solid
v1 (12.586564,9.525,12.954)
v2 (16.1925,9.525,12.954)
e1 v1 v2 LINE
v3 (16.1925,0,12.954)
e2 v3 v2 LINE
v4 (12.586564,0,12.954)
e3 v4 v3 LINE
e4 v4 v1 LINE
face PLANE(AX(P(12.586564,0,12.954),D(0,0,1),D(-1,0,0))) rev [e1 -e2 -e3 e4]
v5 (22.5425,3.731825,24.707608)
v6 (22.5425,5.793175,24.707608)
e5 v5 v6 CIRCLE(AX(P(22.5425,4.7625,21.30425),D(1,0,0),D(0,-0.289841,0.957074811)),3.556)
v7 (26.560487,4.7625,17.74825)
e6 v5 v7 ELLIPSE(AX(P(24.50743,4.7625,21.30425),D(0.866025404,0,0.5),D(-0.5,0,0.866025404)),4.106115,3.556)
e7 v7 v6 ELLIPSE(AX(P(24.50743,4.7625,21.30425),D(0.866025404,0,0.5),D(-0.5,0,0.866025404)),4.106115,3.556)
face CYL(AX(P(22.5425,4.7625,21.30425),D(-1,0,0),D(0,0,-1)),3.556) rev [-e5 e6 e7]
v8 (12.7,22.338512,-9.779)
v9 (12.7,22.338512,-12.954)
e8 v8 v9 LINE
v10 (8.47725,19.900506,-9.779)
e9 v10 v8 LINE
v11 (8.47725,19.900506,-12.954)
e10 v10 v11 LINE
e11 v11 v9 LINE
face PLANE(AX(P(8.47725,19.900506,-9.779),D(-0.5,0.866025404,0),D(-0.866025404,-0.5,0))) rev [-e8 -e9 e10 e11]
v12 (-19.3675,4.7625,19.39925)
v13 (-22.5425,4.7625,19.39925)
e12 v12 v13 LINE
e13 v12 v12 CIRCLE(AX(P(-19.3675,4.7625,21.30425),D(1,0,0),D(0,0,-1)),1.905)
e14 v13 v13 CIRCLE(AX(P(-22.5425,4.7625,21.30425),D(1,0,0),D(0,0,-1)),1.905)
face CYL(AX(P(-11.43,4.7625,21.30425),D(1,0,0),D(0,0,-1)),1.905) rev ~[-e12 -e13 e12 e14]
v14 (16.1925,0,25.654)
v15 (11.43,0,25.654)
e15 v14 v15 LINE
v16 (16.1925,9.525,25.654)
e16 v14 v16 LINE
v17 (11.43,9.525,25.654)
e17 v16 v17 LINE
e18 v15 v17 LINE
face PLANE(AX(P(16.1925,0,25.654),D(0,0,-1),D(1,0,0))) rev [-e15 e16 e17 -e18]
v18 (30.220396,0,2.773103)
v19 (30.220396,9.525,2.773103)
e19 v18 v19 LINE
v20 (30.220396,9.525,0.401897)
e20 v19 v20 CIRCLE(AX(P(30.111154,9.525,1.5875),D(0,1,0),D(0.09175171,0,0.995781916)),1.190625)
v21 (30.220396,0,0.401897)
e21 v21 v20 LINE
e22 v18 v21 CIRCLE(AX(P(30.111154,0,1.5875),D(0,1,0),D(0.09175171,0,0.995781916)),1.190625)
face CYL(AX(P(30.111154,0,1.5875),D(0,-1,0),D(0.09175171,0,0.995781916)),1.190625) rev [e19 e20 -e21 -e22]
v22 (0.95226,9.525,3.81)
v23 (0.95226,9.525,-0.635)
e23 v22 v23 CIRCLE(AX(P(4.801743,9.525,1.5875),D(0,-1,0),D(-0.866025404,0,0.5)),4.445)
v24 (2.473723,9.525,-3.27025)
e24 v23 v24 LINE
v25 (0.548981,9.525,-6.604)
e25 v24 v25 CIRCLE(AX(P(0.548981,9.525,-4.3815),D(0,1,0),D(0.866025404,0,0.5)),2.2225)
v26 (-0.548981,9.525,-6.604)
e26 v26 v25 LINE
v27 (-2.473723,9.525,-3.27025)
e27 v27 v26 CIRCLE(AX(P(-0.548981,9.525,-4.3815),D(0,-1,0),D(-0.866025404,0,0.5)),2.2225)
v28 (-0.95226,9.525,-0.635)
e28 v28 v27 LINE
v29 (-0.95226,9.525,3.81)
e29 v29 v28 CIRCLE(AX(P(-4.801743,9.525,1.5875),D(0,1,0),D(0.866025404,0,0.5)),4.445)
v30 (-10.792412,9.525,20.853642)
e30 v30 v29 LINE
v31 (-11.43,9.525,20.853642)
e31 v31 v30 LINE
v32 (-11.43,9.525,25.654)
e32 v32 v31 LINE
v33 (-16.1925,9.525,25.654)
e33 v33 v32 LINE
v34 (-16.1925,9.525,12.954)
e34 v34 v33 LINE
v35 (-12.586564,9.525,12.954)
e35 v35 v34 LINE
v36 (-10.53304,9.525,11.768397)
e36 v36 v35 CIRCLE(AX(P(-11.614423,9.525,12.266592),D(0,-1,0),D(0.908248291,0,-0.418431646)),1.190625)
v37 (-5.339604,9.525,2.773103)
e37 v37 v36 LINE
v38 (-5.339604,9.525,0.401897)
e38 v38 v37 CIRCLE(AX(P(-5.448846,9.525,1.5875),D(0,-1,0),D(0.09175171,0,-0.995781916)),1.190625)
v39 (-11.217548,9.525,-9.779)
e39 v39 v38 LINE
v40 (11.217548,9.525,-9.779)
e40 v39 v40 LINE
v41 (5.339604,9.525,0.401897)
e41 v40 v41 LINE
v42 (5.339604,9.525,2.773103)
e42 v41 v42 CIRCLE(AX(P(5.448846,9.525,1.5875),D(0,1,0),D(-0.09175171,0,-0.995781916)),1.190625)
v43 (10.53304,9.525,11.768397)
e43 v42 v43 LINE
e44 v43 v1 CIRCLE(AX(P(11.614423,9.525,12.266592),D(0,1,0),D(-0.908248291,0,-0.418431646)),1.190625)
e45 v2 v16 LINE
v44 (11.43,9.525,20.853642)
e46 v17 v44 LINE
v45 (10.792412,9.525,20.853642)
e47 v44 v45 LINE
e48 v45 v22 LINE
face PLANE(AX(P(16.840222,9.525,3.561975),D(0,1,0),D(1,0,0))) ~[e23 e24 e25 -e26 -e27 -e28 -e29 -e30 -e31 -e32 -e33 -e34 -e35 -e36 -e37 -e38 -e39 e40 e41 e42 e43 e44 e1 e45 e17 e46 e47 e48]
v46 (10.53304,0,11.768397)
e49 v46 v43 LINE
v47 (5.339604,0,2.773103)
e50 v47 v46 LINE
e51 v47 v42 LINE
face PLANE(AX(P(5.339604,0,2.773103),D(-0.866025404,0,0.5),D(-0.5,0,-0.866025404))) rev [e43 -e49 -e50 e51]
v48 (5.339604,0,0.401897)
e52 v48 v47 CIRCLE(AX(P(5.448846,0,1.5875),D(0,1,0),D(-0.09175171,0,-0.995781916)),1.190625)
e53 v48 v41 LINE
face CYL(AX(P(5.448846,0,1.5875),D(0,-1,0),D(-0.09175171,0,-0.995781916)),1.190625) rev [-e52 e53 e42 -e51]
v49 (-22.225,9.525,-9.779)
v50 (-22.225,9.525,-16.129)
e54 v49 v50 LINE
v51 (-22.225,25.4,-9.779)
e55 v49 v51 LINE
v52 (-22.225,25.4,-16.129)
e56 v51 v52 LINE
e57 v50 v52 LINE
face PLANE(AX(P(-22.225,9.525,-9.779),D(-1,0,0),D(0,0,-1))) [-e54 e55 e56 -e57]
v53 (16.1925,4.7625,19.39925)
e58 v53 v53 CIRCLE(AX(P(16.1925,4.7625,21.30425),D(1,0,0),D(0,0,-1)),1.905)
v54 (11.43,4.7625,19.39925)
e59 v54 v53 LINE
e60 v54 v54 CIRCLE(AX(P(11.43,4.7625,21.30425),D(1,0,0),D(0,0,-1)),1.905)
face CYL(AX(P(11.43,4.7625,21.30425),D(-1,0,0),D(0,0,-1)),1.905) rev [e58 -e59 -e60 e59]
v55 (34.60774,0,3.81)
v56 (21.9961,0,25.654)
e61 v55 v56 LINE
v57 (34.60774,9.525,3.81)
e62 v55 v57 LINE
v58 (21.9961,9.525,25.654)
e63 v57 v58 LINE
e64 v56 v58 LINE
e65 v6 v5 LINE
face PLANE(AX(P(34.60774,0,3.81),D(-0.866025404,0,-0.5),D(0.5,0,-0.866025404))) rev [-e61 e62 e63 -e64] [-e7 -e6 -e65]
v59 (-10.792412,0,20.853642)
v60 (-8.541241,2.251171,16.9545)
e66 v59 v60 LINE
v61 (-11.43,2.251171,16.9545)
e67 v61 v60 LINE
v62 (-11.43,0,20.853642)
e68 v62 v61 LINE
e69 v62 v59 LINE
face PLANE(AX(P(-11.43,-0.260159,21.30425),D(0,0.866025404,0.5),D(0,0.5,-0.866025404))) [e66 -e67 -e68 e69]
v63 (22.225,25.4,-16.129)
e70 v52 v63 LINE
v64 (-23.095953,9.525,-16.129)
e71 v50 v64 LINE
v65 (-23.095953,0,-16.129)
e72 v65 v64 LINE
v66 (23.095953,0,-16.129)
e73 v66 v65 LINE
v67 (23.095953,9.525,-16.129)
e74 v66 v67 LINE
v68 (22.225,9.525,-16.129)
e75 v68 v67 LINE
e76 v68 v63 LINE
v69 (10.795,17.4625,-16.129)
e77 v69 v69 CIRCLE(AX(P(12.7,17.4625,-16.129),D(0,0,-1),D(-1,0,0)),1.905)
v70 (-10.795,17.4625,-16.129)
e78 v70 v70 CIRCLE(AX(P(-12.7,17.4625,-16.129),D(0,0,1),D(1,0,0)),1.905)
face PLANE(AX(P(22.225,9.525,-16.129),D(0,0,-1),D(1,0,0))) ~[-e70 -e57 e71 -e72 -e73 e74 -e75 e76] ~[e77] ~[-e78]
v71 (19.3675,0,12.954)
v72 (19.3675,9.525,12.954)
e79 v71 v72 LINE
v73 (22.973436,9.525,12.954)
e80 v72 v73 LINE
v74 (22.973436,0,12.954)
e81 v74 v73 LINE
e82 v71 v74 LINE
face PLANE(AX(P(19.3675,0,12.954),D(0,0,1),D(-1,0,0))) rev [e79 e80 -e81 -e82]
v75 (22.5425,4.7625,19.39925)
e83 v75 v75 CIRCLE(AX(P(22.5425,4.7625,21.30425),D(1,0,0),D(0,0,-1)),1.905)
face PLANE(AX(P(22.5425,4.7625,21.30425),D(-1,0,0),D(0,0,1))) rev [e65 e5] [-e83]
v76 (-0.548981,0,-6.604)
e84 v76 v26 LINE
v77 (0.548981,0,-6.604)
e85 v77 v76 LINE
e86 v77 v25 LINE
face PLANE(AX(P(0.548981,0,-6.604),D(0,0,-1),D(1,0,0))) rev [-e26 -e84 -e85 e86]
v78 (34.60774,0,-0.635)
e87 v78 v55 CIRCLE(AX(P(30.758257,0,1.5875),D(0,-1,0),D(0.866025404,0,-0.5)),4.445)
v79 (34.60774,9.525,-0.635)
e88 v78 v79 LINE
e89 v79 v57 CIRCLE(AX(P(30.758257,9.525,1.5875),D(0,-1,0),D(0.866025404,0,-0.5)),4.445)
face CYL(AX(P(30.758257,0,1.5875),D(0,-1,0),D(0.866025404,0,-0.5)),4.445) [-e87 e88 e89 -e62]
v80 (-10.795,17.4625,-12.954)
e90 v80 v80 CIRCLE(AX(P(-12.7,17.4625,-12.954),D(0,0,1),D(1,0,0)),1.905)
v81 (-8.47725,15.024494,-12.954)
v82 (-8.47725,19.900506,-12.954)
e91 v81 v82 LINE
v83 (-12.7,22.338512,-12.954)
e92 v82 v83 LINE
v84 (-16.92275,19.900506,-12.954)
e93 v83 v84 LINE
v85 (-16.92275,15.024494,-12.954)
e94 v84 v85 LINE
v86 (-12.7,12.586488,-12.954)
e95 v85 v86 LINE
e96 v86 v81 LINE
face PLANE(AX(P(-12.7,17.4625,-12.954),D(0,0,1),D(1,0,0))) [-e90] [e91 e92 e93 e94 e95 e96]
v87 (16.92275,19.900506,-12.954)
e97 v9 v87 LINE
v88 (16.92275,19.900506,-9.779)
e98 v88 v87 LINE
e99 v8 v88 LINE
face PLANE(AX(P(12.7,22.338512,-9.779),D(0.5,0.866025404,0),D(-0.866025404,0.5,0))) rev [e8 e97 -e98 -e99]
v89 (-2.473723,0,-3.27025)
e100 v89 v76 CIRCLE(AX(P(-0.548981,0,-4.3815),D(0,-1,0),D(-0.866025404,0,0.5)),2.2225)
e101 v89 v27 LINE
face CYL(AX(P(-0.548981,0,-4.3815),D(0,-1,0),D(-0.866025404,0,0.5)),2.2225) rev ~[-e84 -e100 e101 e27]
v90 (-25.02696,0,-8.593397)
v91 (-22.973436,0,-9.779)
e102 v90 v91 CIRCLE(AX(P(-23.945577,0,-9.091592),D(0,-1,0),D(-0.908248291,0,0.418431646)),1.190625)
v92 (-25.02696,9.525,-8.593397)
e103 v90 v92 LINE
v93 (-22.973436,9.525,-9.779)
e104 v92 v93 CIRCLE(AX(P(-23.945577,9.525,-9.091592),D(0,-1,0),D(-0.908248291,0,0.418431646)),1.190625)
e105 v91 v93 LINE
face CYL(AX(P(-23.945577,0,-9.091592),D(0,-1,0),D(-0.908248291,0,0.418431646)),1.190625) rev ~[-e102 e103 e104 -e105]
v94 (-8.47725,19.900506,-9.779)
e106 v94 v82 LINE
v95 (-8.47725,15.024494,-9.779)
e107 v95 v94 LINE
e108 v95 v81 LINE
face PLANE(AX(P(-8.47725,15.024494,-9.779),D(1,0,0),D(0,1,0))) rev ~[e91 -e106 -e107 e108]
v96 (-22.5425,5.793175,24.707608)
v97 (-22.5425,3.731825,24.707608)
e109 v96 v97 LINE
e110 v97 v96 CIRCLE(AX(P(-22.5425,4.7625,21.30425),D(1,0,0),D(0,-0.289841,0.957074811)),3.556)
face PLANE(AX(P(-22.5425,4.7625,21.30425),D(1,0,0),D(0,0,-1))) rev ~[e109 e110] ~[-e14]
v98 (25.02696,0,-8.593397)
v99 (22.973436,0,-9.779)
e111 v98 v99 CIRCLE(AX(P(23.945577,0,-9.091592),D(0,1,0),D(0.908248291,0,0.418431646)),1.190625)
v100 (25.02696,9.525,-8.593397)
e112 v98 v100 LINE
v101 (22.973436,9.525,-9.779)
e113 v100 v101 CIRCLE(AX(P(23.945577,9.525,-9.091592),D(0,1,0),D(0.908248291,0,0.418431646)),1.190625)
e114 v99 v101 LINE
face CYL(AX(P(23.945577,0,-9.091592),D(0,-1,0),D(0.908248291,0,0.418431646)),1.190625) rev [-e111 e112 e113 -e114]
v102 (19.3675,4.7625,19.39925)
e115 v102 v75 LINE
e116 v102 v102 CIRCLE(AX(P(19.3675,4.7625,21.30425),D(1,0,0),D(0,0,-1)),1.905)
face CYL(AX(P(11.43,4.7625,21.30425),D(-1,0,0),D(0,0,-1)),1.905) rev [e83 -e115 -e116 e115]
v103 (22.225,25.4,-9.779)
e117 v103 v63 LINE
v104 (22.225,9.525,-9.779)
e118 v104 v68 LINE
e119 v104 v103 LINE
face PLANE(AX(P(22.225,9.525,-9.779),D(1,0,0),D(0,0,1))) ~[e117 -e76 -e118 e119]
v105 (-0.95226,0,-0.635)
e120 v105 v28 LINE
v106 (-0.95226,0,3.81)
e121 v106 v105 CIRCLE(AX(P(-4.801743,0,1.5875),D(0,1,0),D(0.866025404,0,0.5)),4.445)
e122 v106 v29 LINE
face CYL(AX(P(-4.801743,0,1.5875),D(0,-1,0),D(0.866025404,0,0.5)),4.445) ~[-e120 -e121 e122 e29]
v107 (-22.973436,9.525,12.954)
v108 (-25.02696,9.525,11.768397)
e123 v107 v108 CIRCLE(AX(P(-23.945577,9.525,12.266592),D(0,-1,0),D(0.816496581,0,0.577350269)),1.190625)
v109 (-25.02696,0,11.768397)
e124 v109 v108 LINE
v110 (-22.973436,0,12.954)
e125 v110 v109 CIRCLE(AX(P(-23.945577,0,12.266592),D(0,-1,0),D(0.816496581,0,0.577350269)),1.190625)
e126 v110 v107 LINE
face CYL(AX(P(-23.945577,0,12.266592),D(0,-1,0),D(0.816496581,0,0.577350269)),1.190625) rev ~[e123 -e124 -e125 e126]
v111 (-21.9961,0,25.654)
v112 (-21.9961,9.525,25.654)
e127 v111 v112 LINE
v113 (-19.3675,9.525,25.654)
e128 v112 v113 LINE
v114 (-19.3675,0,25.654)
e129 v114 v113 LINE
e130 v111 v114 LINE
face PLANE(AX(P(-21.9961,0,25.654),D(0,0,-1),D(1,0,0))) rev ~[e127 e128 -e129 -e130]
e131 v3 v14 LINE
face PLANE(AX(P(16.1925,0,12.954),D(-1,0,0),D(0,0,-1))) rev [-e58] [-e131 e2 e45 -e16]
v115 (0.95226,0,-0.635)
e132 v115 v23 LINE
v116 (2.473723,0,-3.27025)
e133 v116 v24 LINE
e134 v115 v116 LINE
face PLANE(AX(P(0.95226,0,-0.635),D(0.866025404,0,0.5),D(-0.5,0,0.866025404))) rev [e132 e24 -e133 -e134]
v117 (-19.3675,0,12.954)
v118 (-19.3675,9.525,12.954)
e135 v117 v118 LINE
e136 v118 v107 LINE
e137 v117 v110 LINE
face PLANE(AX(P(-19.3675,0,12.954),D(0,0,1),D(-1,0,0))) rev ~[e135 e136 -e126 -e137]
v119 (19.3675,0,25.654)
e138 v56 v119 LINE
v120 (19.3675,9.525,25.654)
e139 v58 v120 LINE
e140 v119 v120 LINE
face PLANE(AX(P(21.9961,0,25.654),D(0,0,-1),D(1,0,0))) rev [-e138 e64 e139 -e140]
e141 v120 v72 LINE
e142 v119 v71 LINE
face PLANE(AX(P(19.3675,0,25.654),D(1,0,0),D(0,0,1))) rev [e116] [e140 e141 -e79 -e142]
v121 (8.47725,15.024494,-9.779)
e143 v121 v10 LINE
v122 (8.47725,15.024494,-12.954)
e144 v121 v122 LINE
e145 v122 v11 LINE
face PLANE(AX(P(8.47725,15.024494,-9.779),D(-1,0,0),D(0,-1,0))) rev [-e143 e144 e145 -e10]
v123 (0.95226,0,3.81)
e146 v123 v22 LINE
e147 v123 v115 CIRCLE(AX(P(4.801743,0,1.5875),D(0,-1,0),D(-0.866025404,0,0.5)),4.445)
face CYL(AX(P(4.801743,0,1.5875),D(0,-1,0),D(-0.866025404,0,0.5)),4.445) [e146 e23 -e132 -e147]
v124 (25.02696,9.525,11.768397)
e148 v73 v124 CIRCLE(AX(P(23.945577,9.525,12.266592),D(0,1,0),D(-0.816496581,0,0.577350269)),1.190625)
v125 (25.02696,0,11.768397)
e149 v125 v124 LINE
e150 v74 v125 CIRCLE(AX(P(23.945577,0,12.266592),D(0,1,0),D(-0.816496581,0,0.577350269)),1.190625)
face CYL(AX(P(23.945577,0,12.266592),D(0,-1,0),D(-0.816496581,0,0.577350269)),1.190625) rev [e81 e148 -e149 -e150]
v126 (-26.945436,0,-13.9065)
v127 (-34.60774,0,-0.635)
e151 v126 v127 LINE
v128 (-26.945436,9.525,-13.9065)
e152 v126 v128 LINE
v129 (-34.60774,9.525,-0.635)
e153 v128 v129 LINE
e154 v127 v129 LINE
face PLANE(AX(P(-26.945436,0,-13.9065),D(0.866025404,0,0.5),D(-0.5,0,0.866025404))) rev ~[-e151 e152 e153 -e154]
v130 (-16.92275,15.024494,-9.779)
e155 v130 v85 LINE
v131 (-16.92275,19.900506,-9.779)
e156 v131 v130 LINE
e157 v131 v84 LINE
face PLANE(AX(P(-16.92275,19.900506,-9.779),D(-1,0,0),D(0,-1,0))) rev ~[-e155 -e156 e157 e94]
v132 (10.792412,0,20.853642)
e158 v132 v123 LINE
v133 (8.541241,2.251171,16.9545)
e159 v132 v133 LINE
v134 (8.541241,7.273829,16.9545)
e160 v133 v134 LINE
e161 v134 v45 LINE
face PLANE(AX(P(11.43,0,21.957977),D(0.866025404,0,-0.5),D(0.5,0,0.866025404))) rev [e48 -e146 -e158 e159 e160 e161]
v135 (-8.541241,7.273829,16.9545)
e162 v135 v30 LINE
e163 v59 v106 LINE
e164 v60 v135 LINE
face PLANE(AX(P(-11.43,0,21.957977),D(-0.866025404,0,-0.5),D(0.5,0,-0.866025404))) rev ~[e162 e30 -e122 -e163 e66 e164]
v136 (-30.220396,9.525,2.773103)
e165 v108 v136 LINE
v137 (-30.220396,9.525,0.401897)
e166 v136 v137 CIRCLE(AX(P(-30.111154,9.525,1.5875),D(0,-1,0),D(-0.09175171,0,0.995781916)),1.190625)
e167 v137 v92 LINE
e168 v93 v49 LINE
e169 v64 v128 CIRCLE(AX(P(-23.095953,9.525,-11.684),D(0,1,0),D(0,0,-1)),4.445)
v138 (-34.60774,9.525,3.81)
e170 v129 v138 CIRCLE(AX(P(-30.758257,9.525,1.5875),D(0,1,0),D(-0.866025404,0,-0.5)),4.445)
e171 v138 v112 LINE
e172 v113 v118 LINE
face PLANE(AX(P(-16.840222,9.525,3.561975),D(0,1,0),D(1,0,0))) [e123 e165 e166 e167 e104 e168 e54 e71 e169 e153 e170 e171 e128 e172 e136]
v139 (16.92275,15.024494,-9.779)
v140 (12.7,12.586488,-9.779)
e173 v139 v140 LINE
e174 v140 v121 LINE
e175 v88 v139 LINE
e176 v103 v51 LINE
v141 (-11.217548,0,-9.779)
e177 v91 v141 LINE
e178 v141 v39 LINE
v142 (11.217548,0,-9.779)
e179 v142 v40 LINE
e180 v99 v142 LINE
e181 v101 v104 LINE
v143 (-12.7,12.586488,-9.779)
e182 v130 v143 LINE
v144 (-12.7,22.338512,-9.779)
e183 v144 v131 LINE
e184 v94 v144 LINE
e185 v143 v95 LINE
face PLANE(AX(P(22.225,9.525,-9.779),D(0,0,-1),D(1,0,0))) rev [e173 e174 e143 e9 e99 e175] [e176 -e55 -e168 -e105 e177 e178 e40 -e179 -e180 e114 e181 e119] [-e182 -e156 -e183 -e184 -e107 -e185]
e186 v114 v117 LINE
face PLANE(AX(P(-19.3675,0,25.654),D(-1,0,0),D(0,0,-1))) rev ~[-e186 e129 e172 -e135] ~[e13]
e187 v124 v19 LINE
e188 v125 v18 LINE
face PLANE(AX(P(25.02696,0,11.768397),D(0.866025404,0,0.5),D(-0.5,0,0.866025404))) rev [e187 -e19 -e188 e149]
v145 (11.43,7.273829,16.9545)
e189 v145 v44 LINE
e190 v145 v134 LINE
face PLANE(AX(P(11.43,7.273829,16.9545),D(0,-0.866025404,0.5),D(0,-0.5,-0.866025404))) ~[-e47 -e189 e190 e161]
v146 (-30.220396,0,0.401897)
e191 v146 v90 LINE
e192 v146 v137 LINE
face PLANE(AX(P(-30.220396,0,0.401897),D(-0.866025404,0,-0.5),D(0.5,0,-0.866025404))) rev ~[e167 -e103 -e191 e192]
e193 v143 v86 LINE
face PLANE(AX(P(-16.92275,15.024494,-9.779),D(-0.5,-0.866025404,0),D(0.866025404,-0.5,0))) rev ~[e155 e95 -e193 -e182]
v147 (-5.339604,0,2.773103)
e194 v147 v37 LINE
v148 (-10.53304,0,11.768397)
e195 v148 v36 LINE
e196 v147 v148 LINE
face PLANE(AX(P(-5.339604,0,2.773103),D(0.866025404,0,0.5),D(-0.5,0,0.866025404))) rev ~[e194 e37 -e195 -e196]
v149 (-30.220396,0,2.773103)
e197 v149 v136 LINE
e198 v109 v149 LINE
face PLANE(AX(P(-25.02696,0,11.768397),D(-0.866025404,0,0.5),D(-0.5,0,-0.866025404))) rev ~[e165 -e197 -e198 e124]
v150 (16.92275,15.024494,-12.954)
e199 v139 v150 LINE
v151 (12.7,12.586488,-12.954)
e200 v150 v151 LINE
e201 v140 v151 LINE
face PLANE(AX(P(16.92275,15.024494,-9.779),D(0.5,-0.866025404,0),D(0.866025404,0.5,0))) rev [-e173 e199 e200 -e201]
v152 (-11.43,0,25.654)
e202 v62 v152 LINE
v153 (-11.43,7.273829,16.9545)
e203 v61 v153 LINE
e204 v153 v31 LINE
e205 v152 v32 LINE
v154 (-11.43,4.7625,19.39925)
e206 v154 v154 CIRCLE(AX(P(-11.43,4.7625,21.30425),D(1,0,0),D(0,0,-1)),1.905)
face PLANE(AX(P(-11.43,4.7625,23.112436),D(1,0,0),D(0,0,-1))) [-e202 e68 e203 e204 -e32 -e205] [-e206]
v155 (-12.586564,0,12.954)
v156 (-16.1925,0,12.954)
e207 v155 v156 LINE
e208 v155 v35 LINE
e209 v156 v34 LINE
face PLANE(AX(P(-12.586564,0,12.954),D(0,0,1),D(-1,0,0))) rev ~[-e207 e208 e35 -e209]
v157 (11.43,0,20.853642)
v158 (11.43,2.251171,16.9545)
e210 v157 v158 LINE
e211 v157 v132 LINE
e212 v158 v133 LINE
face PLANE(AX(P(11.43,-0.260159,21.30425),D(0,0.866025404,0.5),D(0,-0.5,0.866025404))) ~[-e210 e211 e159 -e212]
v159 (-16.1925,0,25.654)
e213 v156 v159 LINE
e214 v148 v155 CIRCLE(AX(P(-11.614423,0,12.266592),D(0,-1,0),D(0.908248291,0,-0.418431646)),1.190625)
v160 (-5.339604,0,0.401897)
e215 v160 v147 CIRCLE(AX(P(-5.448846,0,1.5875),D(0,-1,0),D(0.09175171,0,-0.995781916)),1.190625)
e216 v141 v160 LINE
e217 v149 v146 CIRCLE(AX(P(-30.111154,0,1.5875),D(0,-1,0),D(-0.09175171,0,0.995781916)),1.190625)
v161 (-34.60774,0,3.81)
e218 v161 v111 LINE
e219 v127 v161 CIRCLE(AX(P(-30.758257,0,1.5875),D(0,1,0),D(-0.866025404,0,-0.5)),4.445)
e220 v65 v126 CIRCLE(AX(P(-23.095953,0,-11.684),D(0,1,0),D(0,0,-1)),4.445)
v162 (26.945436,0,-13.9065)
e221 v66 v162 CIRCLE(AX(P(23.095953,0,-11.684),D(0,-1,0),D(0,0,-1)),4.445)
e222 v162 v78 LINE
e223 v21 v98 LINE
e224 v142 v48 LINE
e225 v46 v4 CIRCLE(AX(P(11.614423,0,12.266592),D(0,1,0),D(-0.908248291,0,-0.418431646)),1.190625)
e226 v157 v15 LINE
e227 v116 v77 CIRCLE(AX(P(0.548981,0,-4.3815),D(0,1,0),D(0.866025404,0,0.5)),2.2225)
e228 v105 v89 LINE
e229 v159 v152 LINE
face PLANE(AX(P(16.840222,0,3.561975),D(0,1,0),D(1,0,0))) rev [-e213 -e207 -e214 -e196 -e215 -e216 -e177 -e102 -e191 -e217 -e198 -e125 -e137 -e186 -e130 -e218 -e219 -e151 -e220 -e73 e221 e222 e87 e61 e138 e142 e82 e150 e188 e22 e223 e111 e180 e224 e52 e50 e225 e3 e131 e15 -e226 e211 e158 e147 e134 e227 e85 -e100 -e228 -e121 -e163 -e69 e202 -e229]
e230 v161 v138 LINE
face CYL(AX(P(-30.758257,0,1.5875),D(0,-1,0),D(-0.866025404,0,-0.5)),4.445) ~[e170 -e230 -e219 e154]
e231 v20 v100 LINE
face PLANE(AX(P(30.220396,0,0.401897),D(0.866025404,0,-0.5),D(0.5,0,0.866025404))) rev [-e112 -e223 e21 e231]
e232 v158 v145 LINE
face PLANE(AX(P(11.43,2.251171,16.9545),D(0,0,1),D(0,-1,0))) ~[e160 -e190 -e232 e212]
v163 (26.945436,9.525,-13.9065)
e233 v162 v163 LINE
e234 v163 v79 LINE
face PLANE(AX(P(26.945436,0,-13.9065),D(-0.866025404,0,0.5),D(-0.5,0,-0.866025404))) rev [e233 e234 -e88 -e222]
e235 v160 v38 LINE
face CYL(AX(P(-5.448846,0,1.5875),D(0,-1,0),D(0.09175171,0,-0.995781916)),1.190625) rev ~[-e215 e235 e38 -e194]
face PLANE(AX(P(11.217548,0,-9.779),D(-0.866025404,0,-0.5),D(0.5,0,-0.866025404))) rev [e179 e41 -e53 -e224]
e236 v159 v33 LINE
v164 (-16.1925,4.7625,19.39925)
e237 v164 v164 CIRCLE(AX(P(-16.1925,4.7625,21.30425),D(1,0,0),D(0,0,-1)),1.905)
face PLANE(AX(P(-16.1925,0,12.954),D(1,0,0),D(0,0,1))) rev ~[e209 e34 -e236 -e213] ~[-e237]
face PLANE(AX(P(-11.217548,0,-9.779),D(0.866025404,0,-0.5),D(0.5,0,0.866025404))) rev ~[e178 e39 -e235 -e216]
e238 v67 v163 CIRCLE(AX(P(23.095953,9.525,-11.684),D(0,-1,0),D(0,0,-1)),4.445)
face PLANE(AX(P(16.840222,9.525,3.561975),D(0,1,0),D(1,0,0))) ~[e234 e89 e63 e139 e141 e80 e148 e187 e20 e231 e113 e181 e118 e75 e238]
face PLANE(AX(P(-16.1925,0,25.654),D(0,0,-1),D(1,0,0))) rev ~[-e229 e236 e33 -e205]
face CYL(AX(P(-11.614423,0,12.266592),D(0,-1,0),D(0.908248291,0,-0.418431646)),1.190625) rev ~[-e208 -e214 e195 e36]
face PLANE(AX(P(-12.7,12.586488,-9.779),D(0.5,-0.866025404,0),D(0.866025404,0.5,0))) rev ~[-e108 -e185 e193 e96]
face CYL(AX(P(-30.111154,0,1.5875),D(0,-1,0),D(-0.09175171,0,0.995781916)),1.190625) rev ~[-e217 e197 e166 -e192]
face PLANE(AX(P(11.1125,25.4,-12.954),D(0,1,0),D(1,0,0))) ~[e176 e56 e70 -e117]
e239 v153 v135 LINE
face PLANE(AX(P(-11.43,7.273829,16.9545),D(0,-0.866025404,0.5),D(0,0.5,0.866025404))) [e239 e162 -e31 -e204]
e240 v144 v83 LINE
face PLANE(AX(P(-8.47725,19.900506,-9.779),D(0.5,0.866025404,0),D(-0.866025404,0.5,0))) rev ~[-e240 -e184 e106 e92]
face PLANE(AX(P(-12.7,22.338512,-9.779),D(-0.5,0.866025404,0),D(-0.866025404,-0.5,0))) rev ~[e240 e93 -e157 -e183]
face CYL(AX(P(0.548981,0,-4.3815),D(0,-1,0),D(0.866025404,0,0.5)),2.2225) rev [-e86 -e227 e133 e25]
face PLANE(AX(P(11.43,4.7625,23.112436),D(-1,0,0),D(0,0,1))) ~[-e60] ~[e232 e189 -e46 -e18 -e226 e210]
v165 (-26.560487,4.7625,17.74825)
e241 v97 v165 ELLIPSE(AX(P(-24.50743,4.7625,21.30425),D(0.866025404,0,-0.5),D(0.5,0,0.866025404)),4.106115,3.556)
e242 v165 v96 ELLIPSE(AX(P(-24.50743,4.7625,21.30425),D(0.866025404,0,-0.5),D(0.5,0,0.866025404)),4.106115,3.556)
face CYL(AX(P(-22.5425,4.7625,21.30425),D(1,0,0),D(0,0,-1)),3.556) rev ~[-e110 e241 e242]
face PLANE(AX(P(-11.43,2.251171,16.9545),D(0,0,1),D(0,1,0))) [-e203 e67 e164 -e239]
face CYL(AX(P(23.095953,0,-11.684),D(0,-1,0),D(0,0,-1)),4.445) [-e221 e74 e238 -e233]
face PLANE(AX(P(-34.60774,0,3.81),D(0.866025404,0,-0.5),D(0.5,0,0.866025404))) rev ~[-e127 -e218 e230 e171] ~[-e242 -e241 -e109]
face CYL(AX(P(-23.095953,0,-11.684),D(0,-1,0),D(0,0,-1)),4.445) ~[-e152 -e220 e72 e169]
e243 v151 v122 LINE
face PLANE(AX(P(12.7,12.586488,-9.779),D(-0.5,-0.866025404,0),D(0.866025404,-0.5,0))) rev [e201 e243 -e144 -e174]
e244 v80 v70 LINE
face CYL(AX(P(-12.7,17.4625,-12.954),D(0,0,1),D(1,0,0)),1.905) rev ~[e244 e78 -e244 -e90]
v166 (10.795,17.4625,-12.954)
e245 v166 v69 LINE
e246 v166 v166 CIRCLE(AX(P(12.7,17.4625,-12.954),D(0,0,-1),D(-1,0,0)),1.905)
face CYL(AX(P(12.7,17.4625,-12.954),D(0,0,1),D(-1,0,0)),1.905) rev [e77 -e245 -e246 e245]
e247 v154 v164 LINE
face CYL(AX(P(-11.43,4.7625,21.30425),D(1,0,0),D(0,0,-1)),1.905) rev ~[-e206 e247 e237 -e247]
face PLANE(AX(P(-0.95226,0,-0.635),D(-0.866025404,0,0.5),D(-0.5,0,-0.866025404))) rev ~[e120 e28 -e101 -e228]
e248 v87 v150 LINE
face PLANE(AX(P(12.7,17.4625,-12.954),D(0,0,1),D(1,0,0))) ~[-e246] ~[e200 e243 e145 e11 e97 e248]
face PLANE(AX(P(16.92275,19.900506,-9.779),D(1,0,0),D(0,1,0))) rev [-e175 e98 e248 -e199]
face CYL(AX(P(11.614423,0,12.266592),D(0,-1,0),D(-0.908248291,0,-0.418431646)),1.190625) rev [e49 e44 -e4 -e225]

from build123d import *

# Parameters (mm, degrees)
BOSS_EXTRUDE1_DEPTH = 9.525
SKETCH2_W           = 22.225
SKETCH2_H           = 6.35
BOSS_EXTRUDE2_DEPTH = 15.875
CUT_EXTRUDE1_DEPTH  = 3.175
SKETCH4_R           = 1.905
CUT_EXTRUDE2_DEPTH  = 59.094809978
CUT_EXTRUDE4_DEPTH  = 44.225634179
SKETCH6_R           = 1.905
CUT_EXTRUDE5_DEPTH  = 44.225634179
SKETCH7_R           = 3.556
CUT_EXTRUDE6_DEPTH  = 43.561156261


with BuildPart() as part:
    # Sketch1 → Boss-Extrude1 (new body)
    with BuildSketch(Plane(origin=(0, 0, 0), x_dir=(1, 0, 0), z_dir=(0, 1, 0))):
        with BuildLine():
            Line((0, 16.129), (-23.095952604, 16.129))
            ThreePointArc((-23.095952604, 16.129), (-25.318452604, 15.53348292), (-26.945435523, 13.9065))
            Line((-26.945435523, 13.9065), (-34.607739621, 0.635))
            ThreePointArc((-34.607739621, 0.635), (-35.203256701, -1.5875), (-34.607739621, -3.81))
            Line((-34.607739621, -3.81), (-21.996100341, -25.654))
            Line((-21.996100341, -25.654), (-19.3675, -25.654))
            Line((-19.3675, -25.654), (-19.3675, -12.954))
            Line((-19.3675, -12.954), (-22.973435593, -12.954))
            ThreePointArc((-22.973435593, -12.954), (-24.540889335, -13.297703832), (-25.026959956, -11.768397157))
            Line((-25.026959956, -11.768397157), (-30.220395549, -2.773102843))
            ThreePointArc((-30.220395549, -2.773102843), (-31.301778669, -1.5875), (-30.220395549, -0.401897157))
            Line((-30.220395549, -0.401897157), (-25.026959956, 8.593397157))
            ThreePointArc((-25.026959956, 8.593397157), (-24.540889335, 10.122703832), (-22.973435593, 9.779))
            Line((-22.973435593, 9.779), (-11.217548165, 9.779))
            Line((-11.217548165, 9.779), (-5.339604451, -0.401897157))
            ThreePointArc((-5.339604451, -0.401897157), (-4.258221331, -1.5875), (-5.339604451, -2.773102843))
            Line((-5.339604451, -2.773102843), (-10.533040044, -11.768397157))
            ThreePointArc((-10.533040044, -11.768397157), (-11.019110665, -13.297703832), (-12.586564407, -12.954))
            Line((-12.586564407, -12.954), (-16.1925, -12.954))
            Line((-16.1925, -12.954), (-16.1925, -25.654))
            Line((-16.1925, -25.654), (-11.43, -25.654))
            Line((-11.43, -25.654), (-11.43, -21.957977372))
            Line((-11.43, -21.957977372), (-0.952260379, -3.81))
            ThreePointArc((-0.952260379, -3.81), (-0.356743299, -1.5875), (-0.952260379, 0.635))
            Line((-0.952260379, 0.635), (-2.473722676, 3.27025))
            ThreePointArc((-2.473722676, 3.27025), (-2.473722676, 5.49275), (-0.548981216, 6.604))
            Line((-0.548981216, 6.604), (0, 6.604))
            Line((0, 6.604), (0, 16.129))
        make_face()
    extrude(amount=BOSS_EXTRUDE1_DEPTH)

    # Sketch2 → Boss-Extrude2 (add)
    with BuildSketch(Plane(origin=(0, 9.525, 0), x_dir=(1, 0, 0), z_dir=(0, 1, 0))):
        with Locations((-11.1125, 12.954)):
            Rectangle(SKETCH2_W, SKETCH2_H)
    extrude(amount=BOSS_EXTRUDE2_DEPTH)

    # Sketch3 → Cut-Extrude1 (cut)
    with BuildSketch(Plane.XY.offset(-9.779)):
        Polygon((-8.47725, 15.024494151), (-8.47725, 19.900505849), (-12.7, 22.338511698), (-16.92275, 19.900505849), (-16.92275, 15.024494151), (-12.7, 12.586488302), align=None)
    extrude(amount=-CUT_EXTRUDE1_DEPTH, mode=Mode.SUBTRACT)

    # Sketch4 → Cut-Extrude2 (cut, through all)
    with BuildSketch(Plane.XY.offset(-12.954)):
        with Locations((-12.7, 17.4625)):
            Circle(SKETCH4_R)
    extrude(amount=-CUT_EXTRUDE2_DEPTH, mode=Mode.SUBTRACT)

    # Sketch5 → Cut-Extrude4 (cut, through all)
    with BuildSketch(Plane.ZY.offset(11.43)):
        Polygon((21.30425, 9.785158667), (28.06158587, 9.785158667), (28.06158587, -0.260158667), (21.30425, -0.260158667), (16.9545, 2.251170667), (16.9545, 7.273829333), align=None)
    extrude(amount=-CUT_EXTRUDE4_DEPTH, mode=Mode.SUBTRACT)

    # Sketch6 → Cut-Extrude5 (cut, through all)
    with BuildSketch(Plane(origin=(-11.43, 0, 0), x_dir=(0, 0, -1), z_dir=(1, 0, 0))):
        with Locations((-21.30425, 4.7625)):
            Circle(SKETCH6_R)
    extrude(amount=-CUT_EXTRUDE5_DEPTH, mode=Mode.SUBTRACT)

    # Sketch7 → Cut-Extrude6 (cut, through all)
    with BuildSketch(Plane(origin=(-22.5425, 0, 0), x_dir=(0, 0, -1), z_dir=(1, 0, 0))):
        with Locations((-21.30425, 4.7625)):
            Circle(SKETCH7_R)
    extrude(amount=-CUT_EXTRUDE6_DEPTH, mode=Mode.SUBTRACT)

    # Mirror1: part across plane


with BuildPart() as part_1:
    add(part.part)
    add(part.part.mirror(Plane(origin=(0, 9.525, 0), x_dir=(0, 0, 1), z_dir=(1, 0, 0))))


solid = part_1.part
